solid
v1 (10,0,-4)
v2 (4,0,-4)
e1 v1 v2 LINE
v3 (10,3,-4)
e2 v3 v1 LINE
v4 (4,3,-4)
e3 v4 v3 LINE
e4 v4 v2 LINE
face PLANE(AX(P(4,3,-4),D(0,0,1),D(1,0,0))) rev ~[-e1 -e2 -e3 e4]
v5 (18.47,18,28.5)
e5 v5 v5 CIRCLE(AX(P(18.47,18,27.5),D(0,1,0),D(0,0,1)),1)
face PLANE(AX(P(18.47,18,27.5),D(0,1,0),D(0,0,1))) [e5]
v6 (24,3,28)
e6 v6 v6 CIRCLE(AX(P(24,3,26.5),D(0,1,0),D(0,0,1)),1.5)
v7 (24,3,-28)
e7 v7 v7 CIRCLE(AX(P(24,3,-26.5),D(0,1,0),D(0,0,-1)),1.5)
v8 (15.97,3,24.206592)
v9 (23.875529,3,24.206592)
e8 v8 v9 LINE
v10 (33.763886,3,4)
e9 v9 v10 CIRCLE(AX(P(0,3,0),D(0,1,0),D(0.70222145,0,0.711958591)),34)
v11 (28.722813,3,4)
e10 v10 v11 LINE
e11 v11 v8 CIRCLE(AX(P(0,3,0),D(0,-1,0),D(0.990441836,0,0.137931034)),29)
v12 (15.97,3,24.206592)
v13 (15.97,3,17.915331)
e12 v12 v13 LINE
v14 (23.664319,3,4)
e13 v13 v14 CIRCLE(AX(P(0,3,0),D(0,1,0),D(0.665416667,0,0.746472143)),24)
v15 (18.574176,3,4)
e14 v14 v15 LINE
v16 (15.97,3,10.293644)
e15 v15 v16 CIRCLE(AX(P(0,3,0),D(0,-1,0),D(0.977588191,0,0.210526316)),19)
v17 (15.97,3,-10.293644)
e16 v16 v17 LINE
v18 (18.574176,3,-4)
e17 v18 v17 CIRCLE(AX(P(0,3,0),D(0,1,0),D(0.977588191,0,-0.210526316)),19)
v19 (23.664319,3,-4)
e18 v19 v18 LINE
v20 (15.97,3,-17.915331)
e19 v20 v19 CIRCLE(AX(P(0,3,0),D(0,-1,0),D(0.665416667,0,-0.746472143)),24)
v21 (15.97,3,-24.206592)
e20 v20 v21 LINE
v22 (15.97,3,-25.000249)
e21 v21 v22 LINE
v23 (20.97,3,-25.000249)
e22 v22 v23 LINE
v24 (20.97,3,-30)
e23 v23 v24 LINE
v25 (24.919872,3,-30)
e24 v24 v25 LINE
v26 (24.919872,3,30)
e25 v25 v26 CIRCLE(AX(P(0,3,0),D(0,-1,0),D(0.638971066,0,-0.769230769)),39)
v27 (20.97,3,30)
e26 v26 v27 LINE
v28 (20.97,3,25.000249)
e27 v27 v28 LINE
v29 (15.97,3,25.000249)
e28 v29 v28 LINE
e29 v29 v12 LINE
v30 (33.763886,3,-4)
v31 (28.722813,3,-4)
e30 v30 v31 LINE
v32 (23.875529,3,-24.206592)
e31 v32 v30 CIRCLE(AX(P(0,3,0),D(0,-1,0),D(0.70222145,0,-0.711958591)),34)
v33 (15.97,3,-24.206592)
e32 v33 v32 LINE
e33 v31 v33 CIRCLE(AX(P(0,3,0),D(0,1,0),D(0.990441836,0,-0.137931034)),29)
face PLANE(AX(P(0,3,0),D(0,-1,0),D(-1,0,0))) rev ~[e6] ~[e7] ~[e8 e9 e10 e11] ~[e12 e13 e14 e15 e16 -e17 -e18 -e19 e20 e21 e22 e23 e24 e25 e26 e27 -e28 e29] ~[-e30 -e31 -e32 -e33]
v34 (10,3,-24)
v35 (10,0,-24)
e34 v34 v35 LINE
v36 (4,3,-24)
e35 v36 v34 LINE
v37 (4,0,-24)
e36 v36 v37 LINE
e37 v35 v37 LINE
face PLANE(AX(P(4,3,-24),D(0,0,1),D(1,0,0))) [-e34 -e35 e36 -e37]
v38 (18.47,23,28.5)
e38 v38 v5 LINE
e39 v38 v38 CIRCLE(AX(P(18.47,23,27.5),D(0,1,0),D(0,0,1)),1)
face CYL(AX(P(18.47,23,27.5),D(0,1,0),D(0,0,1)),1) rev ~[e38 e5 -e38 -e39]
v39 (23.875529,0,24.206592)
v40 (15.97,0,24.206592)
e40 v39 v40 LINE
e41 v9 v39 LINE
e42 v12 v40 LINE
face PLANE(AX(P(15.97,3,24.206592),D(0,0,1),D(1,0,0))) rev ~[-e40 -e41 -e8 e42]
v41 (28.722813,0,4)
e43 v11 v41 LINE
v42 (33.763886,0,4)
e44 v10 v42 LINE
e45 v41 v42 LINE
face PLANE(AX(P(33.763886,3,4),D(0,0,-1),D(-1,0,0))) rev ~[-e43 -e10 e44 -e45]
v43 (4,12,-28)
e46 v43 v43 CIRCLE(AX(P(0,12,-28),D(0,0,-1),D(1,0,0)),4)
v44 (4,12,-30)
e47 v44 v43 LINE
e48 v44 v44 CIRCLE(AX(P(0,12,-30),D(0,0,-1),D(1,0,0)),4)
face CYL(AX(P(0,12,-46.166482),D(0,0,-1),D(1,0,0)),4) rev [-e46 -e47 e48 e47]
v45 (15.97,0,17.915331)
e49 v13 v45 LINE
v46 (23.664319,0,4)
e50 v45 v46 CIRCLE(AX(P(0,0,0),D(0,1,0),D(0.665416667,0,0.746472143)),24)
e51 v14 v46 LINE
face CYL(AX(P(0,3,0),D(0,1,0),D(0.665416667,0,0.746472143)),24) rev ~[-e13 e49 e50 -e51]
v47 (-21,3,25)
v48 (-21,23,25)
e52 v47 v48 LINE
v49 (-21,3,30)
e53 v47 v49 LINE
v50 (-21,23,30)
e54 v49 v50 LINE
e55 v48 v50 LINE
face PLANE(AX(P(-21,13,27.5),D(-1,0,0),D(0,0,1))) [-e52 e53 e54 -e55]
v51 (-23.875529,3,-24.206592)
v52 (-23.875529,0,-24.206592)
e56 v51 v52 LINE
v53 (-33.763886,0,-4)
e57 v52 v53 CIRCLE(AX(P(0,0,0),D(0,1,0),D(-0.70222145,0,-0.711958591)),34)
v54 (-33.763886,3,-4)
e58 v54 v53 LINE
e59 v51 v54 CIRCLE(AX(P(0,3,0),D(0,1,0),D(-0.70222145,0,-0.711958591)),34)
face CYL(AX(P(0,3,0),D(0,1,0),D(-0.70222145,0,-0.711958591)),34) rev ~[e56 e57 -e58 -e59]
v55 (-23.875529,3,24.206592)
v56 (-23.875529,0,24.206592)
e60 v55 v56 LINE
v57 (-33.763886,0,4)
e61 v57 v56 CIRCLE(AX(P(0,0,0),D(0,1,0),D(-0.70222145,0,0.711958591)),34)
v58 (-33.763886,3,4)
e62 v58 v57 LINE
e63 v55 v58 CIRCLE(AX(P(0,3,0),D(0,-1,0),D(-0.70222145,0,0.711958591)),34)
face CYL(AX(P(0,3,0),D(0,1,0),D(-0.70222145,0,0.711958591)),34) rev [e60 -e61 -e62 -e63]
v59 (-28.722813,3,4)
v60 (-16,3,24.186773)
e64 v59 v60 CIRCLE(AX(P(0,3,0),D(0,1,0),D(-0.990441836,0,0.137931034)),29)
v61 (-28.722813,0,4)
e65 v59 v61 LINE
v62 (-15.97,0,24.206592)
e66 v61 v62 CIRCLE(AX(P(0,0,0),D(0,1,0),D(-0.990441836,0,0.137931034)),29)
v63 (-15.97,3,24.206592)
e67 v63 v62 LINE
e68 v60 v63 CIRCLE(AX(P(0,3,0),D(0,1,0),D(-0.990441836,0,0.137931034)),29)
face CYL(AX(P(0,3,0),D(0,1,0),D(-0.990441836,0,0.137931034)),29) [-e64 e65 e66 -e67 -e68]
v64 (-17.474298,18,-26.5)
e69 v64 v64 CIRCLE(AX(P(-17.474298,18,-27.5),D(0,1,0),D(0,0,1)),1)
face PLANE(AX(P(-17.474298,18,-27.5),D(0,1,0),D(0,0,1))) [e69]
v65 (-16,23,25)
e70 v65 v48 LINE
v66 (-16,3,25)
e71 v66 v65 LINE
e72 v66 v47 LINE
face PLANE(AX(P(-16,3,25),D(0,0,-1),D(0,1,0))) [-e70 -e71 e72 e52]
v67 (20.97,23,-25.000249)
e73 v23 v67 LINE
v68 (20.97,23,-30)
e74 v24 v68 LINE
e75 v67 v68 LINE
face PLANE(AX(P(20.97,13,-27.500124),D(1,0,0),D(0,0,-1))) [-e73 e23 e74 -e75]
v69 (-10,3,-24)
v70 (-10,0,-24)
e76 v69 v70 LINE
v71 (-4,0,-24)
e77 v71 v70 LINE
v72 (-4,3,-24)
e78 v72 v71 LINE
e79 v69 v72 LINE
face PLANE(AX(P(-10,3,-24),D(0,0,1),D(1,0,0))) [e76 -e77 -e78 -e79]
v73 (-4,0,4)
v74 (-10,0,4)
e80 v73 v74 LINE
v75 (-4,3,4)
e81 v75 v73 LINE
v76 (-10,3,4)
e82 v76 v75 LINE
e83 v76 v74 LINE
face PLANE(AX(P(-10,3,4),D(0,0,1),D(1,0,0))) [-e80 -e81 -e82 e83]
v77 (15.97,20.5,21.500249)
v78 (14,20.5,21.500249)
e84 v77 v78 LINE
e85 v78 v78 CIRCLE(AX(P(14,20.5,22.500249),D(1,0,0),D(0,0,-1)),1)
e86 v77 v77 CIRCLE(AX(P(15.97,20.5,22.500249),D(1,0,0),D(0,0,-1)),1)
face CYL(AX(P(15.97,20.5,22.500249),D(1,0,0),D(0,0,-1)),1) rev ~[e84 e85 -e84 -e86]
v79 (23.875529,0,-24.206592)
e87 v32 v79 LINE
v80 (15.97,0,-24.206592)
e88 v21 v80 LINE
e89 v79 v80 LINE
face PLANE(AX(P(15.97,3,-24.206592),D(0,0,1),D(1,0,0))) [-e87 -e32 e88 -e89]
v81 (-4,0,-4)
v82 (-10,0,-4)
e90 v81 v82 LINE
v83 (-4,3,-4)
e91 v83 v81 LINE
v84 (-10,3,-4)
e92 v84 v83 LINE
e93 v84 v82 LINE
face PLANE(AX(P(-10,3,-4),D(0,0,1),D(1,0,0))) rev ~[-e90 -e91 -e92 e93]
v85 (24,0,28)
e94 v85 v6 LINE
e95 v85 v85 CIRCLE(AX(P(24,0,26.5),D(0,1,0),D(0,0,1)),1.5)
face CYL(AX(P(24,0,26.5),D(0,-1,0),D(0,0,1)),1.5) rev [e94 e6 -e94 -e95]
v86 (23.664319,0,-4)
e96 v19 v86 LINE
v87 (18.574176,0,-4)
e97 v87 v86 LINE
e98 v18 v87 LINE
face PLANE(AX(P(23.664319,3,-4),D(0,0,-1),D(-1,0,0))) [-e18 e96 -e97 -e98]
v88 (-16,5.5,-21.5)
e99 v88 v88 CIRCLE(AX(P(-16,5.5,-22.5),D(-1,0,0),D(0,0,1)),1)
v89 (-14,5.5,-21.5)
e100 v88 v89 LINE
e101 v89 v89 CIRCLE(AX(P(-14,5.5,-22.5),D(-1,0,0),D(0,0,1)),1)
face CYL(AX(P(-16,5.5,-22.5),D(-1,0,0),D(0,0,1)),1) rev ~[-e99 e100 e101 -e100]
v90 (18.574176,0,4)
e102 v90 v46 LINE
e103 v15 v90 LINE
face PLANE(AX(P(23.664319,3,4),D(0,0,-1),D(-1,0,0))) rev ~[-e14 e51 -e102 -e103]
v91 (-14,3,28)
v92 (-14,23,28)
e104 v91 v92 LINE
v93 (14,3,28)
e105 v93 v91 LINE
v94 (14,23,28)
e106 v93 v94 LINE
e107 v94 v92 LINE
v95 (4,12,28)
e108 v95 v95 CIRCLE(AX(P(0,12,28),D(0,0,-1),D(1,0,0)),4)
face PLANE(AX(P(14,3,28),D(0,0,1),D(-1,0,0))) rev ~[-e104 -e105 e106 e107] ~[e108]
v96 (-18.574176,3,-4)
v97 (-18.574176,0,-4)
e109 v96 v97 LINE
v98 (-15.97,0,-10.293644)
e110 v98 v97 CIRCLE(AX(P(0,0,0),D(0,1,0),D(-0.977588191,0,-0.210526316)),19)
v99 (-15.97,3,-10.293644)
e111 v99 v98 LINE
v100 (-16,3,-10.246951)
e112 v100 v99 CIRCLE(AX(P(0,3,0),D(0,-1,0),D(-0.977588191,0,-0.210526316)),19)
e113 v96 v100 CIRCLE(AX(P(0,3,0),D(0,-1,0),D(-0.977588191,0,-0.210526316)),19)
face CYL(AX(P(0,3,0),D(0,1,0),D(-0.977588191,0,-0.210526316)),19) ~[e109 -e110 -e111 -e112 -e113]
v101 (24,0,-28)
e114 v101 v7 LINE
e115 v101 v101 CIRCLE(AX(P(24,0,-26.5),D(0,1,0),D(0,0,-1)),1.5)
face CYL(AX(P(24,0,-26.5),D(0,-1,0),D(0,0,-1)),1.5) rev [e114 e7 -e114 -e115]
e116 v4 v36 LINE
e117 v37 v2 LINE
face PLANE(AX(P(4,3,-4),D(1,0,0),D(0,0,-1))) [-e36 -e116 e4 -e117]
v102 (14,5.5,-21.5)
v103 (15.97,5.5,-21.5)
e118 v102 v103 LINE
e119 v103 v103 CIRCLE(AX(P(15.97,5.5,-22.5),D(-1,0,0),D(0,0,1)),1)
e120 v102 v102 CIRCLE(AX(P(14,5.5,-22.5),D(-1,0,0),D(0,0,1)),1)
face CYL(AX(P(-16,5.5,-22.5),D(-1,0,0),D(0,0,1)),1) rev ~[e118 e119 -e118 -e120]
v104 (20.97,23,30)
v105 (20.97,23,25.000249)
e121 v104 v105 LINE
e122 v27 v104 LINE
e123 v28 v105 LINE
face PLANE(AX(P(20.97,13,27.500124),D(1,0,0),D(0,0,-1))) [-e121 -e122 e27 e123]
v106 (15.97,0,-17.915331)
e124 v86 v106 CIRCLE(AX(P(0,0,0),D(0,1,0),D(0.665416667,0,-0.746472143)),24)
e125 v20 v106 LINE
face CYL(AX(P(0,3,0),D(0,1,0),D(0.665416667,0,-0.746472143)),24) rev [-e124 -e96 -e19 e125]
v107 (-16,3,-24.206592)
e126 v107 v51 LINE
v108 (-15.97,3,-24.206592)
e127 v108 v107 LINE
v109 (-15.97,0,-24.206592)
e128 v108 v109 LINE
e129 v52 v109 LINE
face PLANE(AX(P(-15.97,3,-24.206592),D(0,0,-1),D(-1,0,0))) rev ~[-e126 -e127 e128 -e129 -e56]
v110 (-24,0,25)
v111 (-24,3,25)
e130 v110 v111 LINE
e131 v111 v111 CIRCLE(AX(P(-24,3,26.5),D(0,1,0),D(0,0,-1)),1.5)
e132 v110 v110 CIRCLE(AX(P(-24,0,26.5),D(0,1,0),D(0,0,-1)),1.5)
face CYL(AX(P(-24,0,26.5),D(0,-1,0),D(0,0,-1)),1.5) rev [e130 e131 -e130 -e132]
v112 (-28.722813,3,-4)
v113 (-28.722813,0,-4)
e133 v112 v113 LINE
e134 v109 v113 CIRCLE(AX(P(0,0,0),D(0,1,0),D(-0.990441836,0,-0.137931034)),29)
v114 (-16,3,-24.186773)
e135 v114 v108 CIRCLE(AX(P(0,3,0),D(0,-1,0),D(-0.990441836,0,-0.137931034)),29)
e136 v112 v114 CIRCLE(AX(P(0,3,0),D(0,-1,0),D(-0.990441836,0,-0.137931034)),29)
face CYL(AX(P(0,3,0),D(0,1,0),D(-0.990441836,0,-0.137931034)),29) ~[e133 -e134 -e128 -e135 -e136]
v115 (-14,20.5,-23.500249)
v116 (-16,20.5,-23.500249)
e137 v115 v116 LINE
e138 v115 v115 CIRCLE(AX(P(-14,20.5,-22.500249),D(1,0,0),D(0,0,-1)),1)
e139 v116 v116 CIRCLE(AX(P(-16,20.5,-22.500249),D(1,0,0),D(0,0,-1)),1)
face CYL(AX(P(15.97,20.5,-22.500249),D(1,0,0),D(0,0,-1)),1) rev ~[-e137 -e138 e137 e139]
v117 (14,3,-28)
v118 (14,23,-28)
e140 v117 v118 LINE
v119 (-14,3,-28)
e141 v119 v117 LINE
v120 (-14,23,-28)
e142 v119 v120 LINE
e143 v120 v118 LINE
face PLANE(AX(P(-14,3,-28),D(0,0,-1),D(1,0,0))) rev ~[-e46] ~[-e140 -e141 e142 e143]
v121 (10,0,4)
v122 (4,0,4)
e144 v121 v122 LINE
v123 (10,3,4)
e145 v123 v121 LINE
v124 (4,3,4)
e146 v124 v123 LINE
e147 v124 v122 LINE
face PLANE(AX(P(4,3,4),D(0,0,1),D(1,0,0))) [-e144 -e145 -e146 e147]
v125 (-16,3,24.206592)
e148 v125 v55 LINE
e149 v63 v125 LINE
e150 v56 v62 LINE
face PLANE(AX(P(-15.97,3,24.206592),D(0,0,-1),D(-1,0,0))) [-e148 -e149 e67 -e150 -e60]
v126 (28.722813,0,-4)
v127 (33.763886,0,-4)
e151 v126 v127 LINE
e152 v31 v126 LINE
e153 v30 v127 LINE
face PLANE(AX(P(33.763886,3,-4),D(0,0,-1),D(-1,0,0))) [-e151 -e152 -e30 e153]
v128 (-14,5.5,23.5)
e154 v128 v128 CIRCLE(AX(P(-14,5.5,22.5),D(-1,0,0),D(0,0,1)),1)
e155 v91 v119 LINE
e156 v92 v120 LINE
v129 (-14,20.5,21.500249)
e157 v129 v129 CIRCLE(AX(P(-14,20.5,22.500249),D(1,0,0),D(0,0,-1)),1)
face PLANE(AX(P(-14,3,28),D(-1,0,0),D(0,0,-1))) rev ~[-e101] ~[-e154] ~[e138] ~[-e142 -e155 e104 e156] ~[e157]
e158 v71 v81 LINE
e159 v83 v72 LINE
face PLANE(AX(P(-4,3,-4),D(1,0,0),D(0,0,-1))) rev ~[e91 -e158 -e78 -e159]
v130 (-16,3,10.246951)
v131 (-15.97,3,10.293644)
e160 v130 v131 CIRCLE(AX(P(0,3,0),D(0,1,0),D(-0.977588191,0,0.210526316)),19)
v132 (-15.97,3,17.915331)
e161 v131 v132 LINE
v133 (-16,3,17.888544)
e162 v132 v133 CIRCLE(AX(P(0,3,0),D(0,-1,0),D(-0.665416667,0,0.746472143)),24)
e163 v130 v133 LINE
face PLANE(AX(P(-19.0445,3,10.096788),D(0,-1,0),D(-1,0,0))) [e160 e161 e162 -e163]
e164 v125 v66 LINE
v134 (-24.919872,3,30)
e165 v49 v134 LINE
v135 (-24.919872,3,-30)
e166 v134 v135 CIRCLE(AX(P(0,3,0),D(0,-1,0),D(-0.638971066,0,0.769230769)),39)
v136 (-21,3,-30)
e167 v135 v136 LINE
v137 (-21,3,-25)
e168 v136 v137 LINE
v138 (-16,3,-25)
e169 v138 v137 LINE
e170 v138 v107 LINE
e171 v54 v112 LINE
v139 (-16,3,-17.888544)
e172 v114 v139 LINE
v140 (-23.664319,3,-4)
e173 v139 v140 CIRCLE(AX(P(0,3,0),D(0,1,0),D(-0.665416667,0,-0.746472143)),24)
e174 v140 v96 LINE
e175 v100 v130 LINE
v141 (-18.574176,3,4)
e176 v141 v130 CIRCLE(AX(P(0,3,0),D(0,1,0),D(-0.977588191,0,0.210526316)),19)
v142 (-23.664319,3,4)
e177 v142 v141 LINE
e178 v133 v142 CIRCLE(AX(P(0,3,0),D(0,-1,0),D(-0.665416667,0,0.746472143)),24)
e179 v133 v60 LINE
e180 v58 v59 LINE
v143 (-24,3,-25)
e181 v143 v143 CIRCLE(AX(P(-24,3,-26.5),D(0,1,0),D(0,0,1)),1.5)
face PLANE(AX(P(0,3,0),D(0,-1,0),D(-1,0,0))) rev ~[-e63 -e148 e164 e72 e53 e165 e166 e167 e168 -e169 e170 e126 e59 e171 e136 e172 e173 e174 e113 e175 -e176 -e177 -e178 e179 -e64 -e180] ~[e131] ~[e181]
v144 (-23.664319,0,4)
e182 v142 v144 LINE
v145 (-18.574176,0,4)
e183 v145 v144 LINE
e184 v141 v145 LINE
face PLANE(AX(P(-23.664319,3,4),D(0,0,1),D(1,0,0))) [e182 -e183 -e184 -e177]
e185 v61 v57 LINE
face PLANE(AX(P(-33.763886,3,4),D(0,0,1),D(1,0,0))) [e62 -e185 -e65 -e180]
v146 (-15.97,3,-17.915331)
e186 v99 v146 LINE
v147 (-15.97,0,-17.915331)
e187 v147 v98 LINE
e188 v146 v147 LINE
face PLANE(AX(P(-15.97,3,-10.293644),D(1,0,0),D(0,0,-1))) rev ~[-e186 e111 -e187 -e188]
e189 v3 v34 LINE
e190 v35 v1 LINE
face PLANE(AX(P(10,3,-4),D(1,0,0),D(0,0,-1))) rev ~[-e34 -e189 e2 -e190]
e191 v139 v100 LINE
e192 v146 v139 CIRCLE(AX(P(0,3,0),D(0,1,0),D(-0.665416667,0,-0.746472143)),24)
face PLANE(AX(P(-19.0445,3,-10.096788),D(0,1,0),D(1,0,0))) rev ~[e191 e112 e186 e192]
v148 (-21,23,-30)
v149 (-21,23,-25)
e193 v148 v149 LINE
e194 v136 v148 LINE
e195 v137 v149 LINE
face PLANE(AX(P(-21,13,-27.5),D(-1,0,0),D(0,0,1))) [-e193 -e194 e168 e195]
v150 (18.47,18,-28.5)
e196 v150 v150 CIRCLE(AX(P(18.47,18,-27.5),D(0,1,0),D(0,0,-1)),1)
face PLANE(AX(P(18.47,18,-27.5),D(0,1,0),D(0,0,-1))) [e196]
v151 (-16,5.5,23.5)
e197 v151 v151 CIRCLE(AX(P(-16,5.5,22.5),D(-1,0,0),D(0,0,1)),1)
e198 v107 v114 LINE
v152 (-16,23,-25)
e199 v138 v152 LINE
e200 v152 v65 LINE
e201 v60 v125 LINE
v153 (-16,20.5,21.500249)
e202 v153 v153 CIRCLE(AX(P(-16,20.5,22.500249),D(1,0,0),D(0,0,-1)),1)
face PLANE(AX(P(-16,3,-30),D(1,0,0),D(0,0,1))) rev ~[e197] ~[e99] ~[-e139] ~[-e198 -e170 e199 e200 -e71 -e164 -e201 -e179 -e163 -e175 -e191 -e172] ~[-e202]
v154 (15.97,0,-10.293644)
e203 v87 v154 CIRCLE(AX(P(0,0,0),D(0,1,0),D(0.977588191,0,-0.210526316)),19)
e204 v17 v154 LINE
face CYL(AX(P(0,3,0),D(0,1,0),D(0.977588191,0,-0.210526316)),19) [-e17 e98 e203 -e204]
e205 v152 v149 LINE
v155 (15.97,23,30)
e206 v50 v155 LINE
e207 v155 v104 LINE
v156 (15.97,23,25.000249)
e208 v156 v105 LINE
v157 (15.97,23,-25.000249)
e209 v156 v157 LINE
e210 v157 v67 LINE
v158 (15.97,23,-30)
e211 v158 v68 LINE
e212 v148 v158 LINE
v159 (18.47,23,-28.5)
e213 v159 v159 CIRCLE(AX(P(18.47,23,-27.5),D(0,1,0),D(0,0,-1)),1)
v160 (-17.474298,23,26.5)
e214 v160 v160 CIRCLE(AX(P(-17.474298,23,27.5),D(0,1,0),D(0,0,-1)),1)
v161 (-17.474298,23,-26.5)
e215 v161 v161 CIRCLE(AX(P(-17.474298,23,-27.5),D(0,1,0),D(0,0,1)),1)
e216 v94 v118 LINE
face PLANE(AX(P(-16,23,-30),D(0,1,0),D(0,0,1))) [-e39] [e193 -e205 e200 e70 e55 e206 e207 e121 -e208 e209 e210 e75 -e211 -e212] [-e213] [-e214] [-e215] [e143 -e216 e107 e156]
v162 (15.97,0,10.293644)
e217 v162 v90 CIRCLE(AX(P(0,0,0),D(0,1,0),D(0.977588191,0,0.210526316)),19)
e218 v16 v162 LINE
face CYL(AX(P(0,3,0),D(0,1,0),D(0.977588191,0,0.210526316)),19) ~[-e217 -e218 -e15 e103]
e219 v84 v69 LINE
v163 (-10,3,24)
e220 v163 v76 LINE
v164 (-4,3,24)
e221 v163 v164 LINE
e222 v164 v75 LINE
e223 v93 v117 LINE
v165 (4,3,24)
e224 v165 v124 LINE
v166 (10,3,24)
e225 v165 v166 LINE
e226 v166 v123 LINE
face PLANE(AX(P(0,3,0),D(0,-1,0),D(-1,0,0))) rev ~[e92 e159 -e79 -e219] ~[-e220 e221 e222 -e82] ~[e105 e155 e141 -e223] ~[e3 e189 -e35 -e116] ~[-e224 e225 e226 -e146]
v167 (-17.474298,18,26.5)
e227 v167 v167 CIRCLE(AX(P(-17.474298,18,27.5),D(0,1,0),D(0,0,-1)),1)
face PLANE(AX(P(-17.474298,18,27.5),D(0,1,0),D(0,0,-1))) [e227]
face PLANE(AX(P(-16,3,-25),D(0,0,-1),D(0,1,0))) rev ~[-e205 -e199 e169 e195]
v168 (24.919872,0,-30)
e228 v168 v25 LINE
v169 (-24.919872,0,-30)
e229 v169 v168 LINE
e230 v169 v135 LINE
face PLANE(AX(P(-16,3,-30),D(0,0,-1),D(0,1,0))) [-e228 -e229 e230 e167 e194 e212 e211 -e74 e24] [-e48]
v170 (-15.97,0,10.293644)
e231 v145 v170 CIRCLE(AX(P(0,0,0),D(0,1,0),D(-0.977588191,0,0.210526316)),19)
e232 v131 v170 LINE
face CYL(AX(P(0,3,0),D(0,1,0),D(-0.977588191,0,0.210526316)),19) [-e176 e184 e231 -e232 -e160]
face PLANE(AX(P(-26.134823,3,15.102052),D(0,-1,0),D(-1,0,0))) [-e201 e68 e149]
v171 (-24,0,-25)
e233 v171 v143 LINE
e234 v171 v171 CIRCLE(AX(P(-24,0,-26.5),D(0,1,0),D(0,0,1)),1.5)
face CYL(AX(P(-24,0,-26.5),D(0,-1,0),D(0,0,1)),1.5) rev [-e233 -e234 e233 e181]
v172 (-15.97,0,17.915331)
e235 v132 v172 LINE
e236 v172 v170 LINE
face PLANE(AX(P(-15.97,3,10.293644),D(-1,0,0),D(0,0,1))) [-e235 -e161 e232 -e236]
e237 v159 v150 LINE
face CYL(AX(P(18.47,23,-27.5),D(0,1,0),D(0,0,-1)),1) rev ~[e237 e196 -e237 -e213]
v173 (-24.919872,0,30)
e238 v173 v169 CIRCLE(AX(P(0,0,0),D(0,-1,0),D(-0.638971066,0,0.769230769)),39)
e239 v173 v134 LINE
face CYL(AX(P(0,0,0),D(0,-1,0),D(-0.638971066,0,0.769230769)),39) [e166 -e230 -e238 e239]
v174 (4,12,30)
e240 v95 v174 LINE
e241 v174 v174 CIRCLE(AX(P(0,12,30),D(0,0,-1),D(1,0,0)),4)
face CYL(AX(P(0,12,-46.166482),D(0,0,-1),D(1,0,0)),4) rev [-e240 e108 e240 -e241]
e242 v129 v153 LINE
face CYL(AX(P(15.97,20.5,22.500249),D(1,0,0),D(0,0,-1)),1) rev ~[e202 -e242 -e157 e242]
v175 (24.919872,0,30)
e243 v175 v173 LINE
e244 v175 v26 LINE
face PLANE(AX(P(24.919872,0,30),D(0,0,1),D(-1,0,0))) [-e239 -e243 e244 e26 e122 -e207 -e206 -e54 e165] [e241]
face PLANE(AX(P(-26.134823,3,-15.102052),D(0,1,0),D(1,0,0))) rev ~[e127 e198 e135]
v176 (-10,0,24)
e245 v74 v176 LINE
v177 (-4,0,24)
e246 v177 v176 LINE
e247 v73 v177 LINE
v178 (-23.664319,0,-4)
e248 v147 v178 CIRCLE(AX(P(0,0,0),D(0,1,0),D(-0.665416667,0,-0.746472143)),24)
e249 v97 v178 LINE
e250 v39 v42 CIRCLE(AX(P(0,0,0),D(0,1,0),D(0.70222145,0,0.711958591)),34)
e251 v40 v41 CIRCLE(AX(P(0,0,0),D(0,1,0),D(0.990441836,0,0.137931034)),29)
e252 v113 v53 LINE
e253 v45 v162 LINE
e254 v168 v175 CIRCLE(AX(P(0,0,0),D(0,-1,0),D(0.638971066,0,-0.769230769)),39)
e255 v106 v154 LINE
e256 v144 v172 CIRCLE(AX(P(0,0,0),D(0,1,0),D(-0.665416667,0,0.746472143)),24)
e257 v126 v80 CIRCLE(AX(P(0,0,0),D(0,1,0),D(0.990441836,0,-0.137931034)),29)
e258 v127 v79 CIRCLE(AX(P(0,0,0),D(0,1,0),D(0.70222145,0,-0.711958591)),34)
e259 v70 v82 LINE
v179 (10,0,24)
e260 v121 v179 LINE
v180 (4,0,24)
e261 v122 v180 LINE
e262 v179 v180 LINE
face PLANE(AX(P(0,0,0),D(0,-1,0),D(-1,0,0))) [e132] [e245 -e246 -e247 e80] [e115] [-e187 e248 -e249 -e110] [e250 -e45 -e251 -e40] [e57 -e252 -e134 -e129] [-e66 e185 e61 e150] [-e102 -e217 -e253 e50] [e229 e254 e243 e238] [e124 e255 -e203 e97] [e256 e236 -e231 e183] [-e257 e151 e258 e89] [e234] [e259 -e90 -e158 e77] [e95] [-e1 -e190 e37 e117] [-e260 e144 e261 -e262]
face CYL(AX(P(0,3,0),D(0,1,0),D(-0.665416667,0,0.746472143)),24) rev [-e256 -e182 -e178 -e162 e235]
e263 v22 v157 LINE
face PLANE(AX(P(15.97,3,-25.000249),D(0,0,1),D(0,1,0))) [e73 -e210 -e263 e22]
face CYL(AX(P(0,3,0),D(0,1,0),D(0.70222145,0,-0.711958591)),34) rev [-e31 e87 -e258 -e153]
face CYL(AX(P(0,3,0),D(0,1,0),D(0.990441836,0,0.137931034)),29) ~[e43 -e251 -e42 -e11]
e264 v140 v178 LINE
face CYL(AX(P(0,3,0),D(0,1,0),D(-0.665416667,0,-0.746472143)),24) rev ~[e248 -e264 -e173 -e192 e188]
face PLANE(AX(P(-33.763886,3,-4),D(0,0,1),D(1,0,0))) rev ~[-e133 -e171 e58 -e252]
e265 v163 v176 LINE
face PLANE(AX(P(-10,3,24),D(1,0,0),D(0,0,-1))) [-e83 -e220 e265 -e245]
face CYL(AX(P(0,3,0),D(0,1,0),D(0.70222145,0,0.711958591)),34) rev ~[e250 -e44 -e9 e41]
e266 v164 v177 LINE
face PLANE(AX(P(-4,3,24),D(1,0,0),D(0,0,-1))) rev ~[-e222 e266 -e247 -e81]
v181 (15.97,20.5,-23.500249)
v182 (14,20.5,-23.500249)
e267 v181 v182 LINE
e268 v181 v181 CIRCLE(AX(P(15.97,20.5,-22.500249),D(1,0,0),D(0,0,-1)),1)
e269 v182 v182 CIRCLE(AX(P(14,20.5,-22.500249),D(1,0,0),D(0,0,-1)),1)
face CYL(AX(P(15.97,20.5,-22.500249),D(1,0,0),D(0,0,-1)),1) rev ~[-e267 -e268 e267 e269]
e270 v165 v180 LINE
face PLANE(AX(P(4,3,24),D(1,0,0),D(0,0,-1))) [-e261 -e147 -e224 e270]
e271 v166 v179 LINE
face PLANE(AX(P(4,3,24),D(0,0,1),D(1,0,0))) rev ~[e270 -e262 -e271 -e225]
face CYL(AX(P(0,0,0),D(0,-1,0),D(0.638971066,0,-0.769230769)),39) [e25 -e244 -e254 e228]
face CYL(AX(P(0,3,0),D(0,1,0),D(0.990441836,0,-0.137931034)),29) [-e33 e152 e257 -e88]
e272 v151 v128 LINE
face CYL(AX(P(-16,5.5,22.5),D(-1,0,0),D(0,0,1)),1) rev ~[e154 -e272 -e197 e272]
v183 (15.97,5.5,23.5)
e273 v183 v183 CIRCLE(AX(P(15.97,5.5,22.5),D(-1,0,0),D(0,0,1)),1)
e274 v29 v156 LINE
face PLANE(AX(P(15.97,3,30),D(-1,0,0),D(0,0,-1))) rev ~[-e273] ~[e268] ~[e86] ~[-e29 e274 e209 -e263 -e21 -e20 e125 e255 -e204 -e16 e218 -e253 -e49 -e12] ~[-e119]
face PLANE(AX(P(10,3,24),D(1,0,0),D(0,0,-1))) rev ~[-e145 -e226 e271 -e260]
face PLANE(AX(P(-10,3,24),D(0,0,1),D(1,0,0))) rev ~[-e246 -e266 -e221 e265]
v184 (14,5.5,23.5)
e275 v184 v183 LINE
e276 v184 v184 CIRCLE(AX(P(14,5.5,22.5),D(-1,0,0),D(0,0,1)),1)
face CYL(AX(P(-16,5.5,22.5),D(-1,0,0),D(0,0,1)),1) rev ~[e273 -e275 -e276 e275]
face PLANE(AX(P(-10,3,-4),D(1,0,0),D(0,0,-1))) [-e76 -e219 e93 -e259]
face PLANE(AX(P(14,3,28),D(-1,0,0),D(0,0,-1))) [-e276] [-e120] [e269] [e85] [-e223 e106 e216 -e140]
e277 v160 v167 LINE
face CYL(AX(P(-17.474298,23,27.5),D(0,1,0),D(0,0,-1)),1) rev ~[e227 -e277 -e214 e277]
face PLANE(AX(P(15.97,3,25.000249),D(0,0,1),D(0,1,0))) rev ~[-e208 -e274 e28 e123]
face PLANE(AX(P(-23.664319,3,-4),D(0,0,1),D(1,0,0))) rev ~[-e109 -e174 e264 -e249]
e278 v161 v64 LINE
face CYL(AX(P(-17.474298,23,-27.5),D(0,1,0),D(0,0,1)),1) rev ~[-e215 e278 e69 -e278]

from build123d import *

# Parameters (mm, degrees)
CROQUIS2_R                 = 1.5
SALIENTE_EXTRUIR1_DEPTH    = 3
CROQUIS3_W                 = 1.97
CROQUIS3_H                 = 56
SALIENTE_EXTRUIR2_DEPTH    = 20
CROQUIS4_W                 = 4.999751321
CROQUIS4_H                 = 20
SALIENTE_EXTRUIR3_DEPTH    = 5
CROQUIS5_W                 = 5
CROQUIS5_H                 = 20
SALIENTE_EXTRUIR4_DEPTH    = 5
CROQUIS6_R                 = 1
CORTAR_EXTRUIR1_DEPTH      = 5
CROQUIS7_R                 = 1
CORTAR_EXTRUIR2_DEPTH      = 67.738294854
CROQUIS8_R                 = 1
CORTAR_EXTRUIR3_DEPTH      = 67.713573581
CROQUIS9_W                 = 6
CROQUIS9_H                 = 20
CORTAR_EXTRUIR5_DEPTH      = 10
CORTAR_EXTRUIR6_DEPTH      = 76.166481892
CORTAR_EXTRUIR6_DEPTH_BACK = 76.166481892
CROQUIS10_R                = 4


with BuildPart() as part:
    # Croquis2 → Saliente-Extruir1 (new body)
    with BuildSketch(Plane(origin=(0, 0, 0), x_dir=(1, 0, 0), z_dir=(0, 1, 0))):
        with BuildLine():
            Line((-24.919871589, 30), (24.919871589, 30))
            ThreePointArc((24.919871589, 30), (39, 0), (24.919871589, -30))
            Line((24.919871589, -30), (-24.919871589, -30))
            ThreePointArc((-24.919871589, -30), (-39, 0), (-24.919871589, 30))
        make_face()
        with Locations(Location((-24, 26.5, 0), (0, 0, 270))):
            Circle(CROQUIS2_R, mode=Mode.SUBTRACT)
        with Locations(Location((24, 26.5, 0), (0, 0, 90))):
            Circle(CROQUIS2_R, mode=Mode.SUBTRACT)
        with Locations(Location((-24, -26.5, 0), (0, 0, 90))):
            Circle(CROQUIS2_R, mode=Mode.SUBTRACT)
        with Locations(Location((24, -26.5, 0), (0, 0, 270))):
            Circle(CROQUIS2_R, mode=Mode.SUBTRACT)
    extrude(amount=SALIENTE_EXTRUIR1_DEPTH)

    # Croquis3 → Saliente-Extruir2 (add)
    with BuildSketch(Plane(origin=(0, 3, 0), x_dir=(1, 0, 0), z_dir=(0, 1, 0))):
        Polygon((-16, 28), (-16, -28), (-14, -28), (-14, 0), (-14, 28), align=None)
        with Locations((14.985, 0)):
            Rectangle(CROQUIS3_W, CROQUIS3_H)
        Polygon((-16, 28), (-14, 28), (0, 28), (14, 28), (15.97, 28), (15.97, 30), (-16, 30), align=None)
        Polygon((14, -28), (-14, -28), (-16, -28), (-16, -30), (15.97, -30), (15.97, -28), align=None)
    extrude(amount=SALIENTE_EXTRUIR2_DEPTH)

    # Croquis4 → Saliente-Extruir3 (add)
    with BuildSketch(Plane(origin=(15.97, 0, 0), x_dir=(0, 0, -1), z_dir=(1, 0, 0))):
        with Locations((27.50012434, 13)):
            Rectangle(CROQUIS4_W, CROQUIS4_H)
        with Locations((-27.50012434, 13)):
            Rectangle(CROQUIS4_W, CROQUIS4_H)
    extrude(amount=SALIENTE_EXTRUIR3_DEPTH)

    # Croquis5 → Saliente-Extruir4 (add)
    with BuildSketch(Plane.ZY.offset(16)):
        with Locations((-27.5, 13)):
            Rectangle(CROQUIS5_W, CROQUIS5_H)
        with Locations((27.5, 13)):
            Rectangle(CROQUIS5_W, CROQUIS5_H)
    extrude(amount=SALIENTE_EXTRUIR4_DEPTH)

    # Croquis6 → Cortar-Extruir1 (cut)
    with BuildSketch(Plane(origin=(0, 23, 0), x_dir=(1, 0, 0), z_dir=(0, 1, 0))):
        with Locations(Location((18.47, -27.5, 0), (0, 0, 270))):
            Circle(CROQUIS6_R)
        with Locations(Location((18.47, 27.5, 0), (0, 0, 90))):
            Circle(CROQUIS6_R)
        with Locations(Location((-17.474298495, -27.5, 0), (0, 0, 90))):
            Circle(CROQUIS6_R)
        with Locations(Location((-17.474298495, 27.5, 0), (0, 0, 270))):
            Circle(CROQUIS6_R)
    extrude(amount=-CORTAR_EXTRUIR1_DEPTH, mode=Mode.SUBTRACT)

    # Croquis7 → Cortar-Extruir2 (cut, through all)
    with BuildSketch(Plane.ZY.offset(16)):
        with Locations((-22.5, 5.5)):
            Circle(CROQUIS7_R)
        with Locations((22.5, 5.5)):
            Circle(CROQUIS7_R)
    extrude(amount=-CORTAR_EXTRUIR2_DEPTH, mode=Mode.SUBTRACT)

    # Croquis8 → Cortar-Extruir3 (cut, through all)
    with BuildSketch(Plane(origin=(15.97, 0, 0), x_dir=(0, 0, -1), z_dir=(1, 0, 0))):
        with Locations((22.500248679, 20.5)):
            Circle(CROQUIS8_R)
        with Locations((-22.500248679, 20.5)):
            Circle(CROQUIS8_R)
    extrude(amount=-CORTAR_EXTRUIR3_DEPTH, mode=Mode.SUBTRACT)

    # Croquis9 → Cortar-Extruir5 (cut)
    with BuildSketch(Plane(origin=(0, 3, 0), x_dir=(1, 0, 0), z_dir=(0, 1, 0))):
        with BuildLine():
            Line((15.97, 10.29364367), (15.97, 17.915331423))
            ThreePointArc((15.97, 17.915331423), (21.003069429, 11.613400646), (23.664319132, 4))
            Line((23.664319132, 4), (18.574175621, 4))
            ThreePointArc((18.574175621, 4), (17.556409228, 7.264467978), (15.97, 10.29364367))
        make_face()
        with BuildLine():
            Line((15.97, -10.29364367), (15.97, -17.915331423))
            ThreePointArc((15.97, -17.915331423), (21.003069429, -11.613400646), (23.664319132, -4))
            Line((23.664319132, -4), (18.574175621, -4))
            ThreePointArc((18.574175621, -4), (17.556409228, -7.264467978), (15.97, -10.29364367))
        make_face()
        with BuildLine():
            Line((15.97, 24.206592077), (23.875529314, 24.206592077))
            ThreePointArc((23.875529314, 24.206592077), (30.539353975, 14.944827159), (33.763886032, 4))
            Line((33.763886032, 4), (28.722813233, 4))
            ThreePointArc((28.722813233, 4), (24.52424269, 15.47777505), (15.97, 24.206592077))
        make_face()
        with BuildLine():
            Line((15.97, -24.206592077), (23.875529314, -24.206592077))
            ThreePointArc((23.875529314, -24.206592077), (30.539353975, -14.944827159), (33.763886032, -4))
            Line((33.763886032, -4), (28.722813233, -4))
            ThreePointArc((28.722813233, -4), (24.52424269, -15.47777505), (15.97, -24.206592077))
        make_face()
        with BuildLine():
            Line((-15.97, -10.29364367), (-15.97, -17.915331423))
            ThreePointArc((-15.97, -17.915331423), (-21.003069429, -11.613400646), (-23.664319132, -4))
            Line((-23.664319132, -4), (-18.574175621, -4))
            ThreePointArc((-18.574175621, -4), (-17.556409228, -7.264467978), (-15.97, -10.29364367))
        make_face()
        with BuildLine():
            Line((-15.97, 10.29364367), (-15.97, 17.915331423))
            ThreePointArc((-15.97, 17.915331423), (-21.003069429, 11.613400646), (-23.664319132, 4))
            Line((-23.664319132, 4), (-18.574175621, 4))
            ThreePointArc((-18.574175621, 4), (-17.556409228, 7.264467978), (-15.97, 10.29364367))
        make_face()
        with BuildLine():
            Line((-15.97, 24.206592077), (-23.875529314, 24.206592077))
            ThreePointArc((-23.875529314, 24.206592077), (-30.539353975, 14.944827159), (-33.763886032, 4))
            Line((-33.763886032, 4), (-28.722813233, 4))
            ThreePointArc((-28.722813233, 4), (-24.52424269, 15.47777505), (-15.97, 24.206592077))
        make_face()
        with BuildLine():
            Line((-15.97, -24.206592077), (-23.875529314, -24.206592077))
            ThreePointArc((-23.875529314, -24.206592077), (-30.539353975, -14.944827159), (-33.763886032, -4))
            Line((-33.763886032, -4), (-28.722813233, -4))
            ThreePointArc((-28.722813233, -4), (-24.52424269, -15.47777505), (-15.97, -24.206592077))
        make_face()
        with Locations((-7, 14)):
            Rectangle(CROQUIS9_W, CROQUIS9_H)
        with Locations((7, 14)):
            Rectangle(CROQUIS9_W, CROQUIS9_H)
        with Locations((7, -14)):
            Rectangle(CROQUIS9_W, CROQUIS9_H)
        with Locations((-7, -14)):
            Rectangle(CROQUIS9_W, CROQUIS9_H)
    extrude(amount=-CORTAR_EXTRUIR5_DEPTH, mode=Mode.SUBTRACT)

    # Croquis10 → Cortar-Extruir6 (cut, two sides: drawn at the far end of the back side and taken through both)
    with BuildSketch(Plane.XY.offset(30).offset(-CORTAR_EXTRUIR6_DEPTH_BACK)):
        with Locations((0, 12)):
            Circle(CROQUIS10_R)
    extrude(amount=CORTAR_EXTRUIR6_DEPTH + CORTAR_EXTRUIR6_DEPTH_BACK, mode=Mode.SUBTRACT)


solid = part.part
